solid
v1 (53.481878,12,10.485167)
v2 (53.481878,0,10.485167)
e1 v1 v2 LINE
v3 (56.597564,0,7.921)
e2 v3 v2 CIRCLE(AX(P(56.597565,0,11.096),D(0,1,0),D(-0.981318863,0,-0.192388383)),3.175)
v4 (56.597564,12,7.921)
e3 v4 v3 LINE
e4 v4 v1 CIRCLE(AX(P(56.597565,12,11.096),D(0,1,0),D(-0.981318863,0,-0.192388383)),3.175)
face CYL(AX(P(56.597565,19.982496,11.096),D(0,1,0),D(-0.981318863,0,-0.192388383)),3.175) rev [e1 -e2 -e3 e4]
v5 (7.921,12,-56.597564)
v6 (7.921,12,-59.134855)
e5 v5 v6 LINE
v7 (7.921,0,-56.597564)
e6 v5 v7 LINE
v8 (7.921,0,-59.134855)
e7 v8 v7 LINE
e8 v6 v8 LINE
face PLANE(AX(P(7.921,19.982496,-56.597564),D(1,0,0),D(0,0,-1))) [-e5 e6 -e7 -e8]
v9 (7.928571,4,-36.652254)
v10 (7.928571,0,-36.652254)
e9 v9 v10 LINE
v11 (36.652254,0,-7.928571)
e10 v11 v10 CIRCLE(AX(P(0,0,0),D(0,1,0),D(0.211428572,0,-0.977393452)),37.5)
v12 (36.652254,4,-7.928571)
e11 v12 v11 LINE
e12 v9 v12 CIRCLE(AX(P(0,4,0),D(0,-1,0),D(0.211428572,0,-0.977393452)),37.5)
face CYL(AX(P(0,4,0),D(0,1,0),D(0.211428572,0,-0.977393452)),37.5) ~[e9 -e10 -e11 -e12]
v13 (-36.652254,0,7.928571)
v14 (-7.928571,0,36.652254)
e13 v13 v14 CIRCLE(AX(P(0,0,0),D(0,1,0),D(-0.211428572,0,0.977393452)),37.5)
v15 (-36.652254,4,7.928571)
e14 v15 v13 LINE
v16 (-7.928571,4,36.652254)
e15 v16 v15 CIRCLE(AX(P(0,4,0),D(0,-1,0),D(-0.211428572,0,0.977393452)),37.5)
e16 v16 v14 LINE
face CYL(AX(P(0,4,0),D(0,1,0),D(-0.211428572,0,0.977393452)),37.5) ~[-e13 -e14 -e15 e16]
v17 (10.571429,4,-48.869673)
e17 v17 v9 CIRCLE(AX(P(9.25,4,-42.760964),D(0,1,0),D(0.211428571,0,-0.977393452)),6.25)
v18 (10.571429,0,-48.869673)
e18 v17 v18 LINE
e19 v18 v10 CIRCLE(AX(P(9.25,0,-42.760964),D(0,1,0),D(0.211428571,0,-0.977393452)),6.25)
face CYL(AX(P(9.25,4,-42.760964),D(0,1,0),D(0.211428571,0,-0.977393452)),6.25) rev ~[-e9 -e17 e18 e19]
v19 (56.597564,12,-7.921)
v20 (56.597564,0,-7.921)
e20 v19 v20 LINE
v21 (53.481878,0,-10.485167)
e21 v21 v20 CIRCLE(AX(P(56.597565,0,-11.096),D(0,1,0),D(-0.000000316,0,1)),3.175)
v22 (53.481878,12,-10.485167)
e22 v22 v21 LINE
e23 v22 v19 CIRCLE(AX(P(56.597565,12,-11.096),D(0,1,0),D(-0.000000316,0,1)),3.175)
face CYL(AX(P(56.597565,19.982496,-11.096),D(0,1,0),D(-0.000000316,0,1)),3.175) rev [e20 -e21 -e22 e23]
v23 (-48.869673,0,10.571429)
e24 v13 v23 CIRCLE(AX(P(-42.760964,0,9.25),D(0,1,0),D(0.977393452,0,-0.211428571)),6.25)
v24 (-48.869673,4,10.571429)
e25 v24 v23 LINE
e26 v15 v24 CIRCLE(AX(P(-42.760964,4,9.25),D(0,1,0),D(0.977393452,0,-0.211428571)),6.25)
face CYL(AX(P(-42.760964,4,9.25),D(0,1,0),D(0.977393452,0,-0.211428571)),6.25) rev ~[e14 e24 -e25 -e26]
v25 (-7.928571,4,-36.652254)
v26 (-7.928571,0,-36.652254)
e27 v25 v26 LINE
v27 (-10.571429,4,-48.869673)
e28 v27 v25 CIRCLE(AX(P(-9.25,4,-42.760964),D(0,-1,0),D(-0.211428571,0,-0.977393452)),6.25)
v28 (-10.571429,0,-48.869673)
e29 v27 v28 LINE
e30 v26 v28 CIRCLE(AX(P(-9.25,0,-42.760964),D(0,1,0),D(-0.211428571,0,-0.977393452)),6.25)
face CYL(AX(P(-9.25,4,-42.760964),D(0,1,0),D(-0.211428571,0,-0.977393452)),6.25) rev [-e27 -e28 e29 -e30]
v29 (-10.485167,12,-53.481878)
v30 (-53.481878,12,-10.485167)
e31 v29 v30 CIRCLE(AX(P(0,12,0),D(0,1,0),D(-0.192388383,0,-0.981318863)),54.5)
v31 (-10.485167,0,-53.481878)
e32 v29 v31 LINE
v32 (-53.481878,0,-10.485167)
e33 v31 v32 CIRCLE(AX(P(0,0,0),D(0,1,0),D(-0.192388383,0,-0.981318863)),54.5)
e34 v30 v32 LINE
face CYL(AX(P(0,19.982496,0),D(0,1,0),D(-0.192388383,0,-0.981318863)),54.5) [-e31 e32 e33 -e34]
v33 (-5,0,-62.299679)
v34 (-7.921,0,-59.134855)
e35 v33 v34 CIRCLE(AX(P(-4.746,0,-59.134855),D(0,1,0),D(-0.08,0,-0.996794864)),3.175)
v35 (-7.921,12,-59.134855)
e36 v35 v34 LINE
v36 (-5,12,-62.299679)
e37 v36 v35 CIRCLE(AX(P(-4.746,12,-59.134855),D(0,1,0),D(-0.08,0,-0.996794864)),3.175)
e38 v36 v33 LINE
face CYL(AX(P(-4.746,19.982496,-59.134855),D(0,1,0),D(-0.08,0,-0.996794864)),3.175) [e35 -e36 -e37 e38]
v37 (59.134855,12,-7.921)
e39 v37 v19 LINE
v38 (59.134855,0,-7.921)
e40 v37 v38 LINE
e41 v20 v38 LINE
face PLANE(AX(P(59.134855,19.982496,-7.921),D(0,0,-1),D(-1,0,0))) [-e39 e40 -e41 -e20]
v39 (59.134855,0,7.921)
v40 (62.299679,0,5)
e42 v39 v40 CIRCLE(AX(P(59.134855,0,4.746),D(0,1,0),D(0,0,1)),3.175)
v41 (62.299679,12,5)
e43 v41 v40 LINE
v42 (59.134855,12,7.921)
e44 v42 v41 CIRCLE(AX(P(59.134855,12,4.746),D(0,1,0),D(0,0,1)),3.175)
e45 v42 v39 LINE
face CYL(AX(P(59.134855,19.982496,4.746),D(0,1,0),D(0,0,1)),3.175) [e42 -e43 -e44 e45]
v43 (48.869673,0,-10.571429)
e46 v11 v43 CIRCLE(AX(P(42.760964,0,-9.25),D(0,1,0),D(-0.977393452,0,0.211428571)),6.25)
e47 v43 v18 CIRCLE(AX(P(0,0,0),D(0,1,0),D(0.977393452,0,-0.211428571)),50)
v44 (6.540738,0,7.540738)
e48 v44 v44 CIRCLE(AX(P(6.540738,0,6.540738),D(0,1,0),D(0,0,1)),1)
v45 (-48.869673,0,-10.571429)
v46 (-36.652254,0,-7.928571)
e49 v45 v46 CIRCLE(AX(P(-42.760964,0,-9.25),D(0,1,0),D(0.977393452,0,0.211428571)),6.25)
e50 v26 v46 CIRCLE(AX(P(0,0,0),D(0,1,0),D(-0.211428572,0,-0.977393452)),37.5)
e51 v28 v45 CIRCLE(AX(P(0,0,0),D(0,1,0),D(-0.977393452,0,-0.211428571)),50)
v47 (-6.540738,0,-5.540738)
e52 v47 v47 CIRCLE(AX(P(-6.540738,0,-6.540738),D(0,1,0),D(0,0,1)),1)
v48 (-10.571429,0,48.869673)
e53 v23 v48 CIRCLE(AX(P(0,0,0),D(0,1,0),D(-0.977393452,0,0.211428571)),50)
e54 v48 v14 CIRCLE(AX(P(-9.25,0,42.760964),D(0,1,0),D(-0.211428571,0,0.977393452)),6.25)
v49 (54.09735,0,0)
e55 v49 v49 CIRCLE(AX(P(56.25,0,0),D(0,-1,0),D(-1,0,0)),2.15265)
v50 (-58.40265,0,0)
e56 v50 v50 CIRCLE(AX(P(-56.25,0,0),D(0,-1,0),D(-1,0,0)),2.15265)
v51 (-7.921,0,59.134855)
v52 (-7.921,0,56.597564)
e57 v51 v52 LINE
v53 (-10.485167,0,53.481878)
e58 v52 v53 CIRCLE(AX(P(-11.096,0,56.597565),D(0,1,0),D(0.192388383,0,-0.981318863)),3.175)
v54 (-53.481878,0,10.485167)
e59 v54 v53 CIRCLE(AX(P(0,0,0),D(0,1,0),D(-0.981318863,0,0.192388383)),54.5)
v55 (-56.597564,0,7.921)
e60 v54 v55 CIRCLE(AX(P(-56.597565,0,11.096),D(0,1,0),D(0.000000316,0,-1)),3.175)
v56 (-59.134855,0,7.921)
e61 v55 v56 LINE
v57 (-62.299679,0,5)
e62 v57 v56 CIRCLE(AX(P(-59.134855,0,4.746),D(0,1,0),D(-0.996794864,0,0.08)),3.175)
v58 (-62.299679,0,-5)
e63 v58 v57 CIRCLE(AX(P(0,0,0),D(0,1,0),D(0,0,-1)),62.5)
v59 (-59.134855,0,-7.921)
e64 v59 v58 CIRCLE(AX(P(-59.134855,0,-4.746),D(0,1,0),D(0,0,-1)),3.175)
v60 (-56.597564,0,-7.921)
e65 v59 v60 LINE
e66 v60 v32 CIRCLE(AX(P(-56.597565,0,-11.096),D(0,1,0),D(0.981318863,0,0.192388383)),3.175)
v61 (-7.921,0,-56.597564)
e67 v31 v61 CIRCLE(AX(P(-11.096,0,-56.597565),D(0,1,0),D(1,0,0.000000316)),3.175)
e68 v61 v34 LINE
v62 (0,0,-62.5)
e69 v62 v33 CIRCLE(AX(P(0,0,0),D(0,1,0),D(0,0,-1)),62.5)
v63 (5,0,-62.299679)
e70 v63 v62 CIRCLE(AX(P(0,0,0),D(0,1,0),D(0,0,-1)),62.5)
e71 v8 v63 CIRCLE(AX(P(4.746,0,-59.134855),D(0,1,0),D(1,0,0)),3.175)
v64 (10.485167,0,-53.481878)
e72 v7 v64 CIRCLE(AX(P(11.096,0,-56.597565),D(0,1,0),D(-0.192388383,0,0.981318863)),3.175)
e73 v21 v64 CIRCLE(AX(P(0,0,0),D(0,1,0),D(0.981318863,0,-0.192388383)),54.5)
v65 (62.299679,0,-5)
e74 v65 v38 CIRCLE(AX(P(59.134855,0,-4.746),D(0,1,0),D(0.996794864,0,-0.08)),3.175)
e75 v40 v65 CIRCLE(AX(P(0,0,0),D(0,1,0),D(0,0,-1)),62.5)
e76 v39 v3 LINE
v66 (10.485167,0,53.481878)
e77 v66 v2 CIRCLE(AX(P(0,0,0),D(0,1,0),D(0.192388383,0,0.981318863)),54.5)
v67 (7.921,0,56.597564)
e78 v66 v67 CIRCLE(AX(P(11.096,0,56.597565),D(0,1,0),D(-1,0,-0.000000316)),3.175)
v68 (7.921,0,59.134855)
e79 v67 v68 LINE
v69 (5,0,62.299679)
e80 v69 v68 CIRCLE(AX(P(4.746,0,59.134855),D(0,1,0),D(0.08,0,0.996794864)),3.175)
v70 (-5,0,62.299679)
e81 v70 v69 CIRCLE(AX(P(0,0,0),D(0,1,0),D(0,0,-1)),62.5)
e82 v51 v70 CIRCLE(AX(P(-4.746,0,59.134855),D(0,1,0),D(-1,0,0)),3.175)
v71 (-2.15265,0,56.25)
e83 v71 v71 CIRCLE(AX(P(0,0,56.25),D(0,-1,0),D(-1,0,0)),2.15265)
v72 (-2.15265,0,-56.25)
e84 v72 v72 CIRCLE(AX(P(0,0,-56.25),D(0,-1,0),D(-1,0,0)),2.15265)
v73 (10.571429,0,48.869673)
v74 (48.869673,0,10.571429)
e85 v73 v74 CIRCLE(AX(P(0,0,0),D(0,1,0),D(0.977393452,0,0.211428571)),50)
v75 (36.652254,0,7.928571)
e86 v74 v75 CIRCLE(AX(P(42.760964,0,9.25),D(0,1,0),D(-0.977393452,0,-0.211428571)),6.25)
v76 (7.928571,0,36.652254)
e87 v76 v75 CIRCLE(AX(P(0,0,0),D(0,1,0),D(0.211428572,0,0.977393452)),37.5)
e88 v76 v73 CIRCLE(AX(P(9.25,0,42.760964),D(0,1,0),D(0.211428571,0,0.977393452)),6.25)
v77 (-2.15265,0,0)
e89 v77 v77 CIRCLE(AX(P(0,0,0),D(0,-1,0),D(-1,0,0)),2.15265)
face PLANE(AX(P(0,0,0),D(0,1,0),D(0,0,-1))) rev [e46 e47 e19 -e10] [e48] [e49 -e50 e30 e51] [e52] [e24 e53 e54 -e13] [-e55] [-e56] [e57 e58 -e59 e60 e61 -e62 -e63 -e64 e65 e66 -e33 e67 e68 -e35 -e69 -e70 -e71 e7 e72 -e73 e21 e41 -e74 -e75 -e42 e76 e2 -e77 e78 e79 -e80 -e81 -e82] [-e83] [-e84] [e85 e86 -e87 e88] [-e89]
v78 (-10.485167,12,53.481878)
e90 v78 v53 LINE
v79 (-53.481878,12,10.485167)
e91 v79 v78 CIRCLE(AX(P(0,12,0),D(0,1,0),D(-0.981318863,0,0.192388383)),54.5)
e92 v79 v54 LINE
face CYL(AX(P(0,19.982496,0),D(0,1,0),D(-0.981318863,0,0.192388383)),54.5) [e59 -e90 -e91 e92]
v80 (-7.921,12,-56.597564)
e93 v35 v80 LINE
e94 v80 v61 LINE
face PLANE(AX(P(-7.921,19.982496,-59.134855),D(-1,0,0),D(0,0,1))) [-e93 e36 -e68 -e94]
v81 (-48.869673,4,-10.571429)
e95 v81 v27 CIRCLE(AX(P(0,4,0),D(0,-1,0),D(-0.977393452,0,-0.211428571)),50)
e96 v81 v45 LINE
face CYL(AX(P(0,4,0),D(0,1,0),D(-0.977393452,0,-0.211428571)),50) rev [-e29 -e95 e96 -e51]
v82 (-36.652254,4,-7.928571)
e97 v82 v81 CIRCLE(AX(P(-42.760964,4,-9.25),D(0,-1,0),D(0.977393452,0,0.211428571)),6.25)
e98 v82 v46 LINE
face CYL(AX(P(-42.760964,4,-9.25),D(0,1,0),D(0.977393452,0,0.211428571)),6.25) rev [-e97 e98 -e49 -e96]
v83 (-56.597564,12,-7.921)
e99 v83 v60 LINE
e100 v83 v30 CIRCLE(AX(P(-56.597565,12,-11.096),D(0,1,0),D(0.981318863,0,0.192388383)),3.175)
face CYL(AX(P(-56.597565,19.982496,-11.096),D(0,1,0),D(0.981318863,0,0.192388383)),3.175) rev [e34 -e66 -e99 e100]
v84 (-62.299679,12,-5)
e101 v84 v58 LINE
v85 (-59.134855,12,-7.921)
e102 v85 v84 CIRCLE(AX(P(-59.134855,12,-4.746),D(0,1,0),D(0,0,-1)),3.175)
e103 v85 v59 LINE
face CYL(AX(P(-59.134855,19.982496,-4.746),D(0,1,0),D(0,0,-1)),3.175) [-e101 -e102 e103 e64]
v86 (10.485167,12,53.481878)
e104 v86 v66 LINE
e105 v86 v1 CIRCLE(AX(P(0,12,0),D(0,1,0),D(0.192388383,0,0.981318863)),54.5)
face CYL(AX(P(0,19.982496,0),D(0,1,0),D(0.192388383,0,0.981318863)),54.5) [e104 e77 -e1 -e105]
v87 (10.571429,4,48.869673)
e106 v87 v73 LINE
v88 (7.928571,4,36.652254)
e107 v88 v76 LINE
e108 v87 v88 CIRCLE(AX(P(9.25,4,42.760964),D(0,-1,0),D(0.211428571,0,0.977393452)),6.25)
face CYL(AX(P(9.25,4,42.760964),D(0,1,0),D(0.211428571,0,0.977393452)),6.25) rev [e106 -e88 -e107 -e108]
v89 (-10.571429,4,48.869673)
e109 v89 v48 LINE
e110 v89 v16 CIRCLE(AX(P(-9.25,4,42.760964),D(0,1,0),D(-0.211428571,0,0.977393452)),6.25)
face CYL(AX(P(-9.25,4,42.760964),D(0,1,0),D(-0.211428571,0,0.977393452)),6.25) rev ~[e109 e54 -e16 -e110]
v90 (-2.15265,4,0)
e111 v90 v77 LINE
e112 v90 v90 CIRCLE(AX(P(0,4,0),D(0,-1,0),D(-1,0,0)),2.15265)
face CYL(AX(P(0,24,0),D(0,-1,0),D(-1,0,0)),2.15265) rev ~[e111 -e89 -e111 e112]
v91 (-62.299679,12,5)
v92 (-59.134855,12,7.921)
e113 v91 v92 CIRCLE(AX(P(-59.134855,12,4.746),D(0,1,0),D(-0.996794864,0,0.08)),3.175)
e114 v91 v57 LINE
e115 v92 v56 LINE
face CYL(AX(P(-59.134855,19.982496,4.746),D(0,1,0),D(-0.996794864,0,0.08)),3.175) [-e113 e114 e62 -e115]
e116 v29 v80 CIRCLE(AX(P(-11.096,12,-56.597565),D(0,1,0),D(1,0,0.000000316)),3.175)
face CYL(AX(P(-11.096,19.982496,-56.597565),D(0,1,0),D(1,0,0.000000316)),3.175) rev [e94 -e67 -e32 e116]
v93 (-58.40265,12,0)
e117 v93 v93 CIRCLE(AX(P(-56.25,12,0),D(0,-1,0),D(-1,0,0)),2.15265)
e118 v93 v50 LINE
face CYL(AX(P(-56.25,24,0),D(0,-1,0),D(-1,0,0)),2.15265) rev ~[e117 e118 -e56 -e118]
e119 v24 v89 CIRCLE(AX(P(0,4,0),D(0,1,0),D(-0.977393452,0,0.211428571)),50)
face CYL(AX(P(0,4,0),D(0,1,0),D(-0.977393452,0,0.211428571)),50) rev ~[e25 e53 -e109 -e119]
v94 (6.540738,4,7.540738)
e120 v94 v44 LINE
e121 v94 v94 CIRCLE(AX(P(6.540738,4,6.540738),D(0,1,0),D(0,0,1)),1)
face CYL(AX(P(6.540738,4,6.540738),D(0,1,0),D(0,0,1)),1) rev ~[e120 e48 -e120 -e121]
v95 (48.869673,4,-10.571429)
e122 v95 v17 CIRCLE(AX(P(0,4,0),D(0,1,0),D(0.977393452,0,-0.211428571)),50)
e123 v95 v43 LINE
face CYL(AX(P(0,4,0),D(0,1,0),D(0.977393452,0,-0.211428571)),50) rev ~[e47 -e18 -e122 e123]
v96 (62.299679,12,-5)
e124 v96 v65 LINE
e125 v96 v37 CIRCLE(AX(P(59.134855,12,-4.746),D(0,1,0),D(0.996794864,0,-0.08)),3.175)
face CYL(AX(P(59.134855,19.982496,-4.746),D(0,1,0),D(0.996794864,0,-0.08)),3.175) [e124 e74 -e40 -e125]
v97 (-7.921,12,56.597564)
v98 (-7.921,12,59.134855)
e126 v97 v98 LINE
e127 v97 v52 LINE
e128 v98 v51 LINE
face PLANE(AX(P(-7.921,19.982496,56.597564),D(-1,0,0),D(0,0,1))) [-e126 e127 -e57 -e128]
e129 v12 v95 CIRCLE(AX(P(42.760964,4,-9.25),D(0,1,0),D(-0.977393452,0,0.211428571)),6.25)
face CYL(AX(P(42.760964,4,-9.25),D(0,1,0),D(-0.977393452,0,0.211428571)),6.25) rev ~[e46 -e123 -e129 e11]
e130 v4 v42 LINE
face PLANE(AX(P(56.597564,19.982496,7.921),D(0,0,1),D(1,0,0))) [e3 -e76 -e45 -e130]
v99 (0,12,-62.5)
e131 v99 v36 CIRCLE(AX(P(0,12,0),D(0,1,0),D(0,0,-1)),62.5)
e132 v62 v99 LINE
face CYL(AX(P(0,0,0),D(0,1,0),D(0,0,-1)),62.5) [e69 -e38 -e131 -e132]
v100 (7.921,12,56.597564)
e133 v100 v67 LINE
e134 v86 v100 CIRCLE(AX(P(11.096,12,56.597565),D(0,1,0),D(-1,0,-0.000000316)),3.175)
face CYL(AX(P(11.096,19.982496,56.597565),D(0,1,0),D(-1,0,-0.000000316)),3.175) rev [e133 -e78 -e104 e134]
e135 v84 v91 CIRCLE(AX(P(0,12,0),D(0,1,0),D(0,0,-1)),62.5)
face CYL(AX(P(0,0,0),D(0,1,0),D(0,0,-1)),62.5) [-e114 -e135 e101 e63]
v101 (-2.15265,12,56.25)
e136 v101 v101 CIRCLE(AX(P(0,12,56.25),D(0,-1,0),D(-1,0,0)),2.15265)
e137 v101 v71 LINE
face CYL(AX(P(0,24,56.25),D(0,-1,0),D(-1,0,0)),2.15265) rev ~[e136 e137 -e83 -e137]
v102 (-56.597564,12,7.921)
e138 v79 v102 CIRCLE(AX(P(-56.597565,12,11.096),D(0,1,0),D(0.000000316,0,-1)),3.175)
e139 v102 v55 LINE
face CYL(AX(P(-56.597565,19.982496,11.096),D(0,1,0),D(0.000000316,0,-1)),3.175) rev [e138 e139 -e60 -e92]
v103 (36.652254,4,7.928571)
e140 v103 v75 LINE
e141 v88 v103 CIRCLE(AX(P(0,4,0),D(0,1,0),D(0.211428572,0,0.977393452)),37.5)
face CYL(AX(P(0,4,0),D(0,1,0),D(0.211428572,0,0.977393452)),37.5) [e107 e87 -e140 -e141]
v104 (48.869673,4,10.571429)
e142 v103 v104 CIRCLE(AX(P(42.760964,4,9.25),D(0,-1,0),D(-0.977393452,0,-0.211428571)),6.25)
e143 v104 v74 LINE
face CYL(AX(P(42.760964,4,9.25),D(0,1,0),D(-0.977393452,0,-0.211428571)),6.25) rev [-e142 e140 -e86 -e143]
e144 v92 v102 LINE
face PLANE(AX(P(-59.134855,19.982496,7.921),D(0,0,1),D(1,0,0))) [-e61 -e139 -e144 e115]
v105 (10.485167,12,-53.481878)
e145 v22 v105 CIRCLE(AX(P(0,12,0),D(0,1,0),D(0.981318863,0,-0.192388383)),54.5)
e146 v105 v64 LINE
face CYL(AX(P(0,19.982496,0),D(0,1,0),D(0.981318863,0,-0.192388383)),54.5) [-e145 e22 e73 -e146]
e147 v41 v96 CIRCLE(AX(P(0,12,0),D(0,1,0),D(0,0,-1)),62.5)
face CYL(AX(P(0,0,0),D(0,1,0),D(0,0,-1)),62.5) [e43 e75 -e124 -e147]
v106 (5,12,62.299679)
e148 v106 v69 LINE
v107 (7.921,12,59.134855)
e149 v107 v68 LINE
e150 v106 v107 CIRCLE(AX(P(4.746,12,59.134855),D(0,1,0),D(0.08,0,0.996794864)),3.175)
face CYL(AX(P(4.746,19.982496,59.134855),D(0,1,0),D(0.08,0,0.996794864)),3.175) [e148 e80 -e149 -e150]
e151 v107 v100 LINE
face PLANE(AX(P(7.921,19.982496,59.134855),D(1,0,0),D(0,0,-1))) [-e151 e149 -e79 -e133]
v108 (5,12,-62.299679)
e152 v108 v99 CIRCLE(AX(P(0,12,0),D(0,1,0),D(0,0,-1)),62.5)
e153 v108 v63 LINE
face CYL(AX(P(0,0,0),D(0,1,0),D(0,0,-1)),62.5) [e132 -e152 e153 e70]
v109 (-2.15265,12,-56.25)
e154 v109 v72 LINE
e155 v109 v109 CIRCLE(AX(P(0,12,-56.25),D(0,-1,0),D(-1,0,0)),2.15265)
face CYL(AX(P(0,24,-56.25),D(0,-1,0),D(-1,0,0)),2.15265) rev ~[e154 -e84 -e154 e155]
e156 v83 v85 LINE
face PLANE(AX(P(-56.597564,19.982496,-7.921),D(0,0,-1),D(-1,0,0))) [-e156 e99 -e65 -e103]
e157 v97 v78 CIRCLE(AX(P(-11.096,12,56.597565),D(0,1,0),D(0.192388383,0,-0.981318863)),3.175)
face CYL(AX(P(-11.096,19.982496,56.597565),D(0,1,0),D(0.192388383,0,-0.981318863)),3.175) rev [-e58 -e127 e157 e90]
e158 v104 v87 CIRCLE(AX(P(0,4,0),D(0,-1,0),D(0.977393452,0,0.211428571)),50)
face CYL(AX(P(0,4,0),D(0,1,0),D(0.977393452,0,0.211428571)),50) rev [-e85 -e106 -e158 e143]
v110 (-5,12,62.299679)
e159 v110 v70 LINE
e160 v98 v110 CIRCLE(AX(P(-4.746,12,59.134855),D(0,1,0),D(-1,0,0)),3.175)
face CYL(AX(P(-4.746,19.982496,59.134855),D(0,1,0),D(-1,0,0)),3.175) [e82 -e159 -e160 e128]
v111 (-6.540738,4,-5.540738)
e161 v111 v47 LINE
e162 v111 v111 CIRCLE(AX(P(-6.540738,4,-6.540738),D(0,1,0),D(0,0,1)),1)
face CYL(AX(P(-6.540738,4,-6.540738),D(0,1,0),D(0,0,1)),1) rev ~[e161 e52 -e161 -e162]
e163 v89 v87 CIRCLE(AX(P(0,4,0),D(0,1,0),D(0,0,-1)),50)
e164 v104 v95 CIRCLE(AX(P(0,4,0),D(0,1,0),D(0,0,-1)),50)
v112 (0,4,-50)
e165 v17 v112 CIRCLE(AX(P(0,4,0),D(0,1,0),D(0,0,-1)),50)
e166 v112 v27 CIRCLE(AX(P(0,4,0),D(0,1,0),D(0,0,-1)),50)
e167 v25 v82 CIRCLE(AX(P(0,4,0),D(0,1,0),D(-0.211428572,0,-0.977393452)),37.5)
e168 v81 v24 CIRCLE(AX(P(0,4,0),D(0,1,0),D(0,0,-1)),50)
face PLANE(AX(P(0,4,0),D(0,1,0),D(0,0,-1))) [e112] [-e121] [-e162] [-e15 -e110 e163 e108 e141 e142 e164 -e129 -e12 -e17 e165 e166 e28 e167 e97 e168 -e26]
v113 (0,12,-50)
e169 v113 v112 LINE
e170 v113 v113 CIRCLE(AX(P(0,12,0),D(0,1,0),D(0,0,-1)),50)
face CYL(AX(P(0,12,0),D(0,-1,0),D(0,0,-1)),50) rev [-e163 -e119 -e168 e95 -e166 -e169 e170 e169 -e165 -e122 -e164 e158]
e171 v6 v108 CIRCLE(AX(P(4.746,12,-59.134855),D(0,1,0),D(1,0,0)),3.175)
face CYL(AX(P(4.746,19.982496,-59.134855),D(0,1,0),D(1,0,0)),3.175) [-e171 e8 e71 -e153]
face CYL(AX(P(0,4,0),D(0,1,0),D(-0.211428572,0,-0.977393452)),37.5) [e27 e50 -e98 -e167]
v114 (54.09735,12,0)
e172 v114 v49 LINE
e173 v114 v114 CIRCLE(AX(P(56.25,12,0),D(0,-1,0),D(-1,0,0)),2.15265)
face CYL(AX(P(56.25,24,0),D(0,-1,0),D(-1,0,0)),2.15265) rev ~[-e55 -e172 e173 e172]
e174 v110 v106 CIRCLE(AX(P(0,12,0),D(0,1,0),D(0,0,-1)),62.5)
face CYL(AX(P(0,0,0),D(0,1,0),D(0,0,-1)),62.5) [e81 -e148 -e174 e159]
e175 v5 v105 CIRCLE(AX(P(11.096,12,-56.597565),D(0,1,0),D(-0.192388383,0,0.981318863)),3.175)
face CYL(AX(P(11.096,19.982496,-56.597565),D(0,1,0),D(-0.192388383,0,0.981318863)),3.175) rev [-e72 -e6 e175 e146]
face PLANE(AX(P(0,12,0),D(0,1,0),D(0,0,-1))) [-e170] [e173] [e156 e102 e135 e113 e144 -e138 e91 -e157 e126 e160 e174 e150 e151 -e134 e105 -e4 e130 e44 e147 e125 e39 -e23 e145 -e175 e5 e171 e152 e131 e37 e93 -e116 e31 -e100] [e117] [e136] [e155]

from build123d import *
from build123d.topology import SkipClean

# Parameters (mm, degrees)
CUT_EXTRUDE1_REACH               = 90.75
SKETCH2_R                        = 2
SKETCH2_R_2                      = 1
CUT_EXTRUDE2_REACH               = 90.75
F_18_0_1695_DIAMETER_HOLE1_D     = 4.3053
F_18_0_1695_DIAMETER_HOLE1_DEPTH = 12
CUT_EXTRUDE3_DEPTH               = 28


with BuildPart() as part:
    # Sketch1 → Revolve1 (revolve)
    with BuildSketch(Plane.XY, mode=Mode.PRIVATE) as revolve1_sk:
        Polygon((0, 0), (62.5, 0), (62.5, 12), (50, 12), (50, 4), (0, 4), align=None)
    revolve(revolve1_sk.sketch.rotate(Axis((0, 0, 0), (0, 1, 0)), 90), axis=Axis((0, 0, 0), (0, 1, 0)))

    # Sketch2 → Cut-Extrude1 (cut, up to next)
    with BuildSketch(Plane(origin=(0, 4, 0), x_dir=(1, 0, 0), z_dir=(0, 1, 0)), mode=Mode.PRIVATE) as cut_extrude1_sk1:
        with Locations(Location((0, 0, 0), (0, 0, 270))):
            Circle(SKETCH2_R)
    cut_extrude1_tool1 = extrude(cut_extrude1_sk1.sketch, amount=-CUT_EXTRUDE1_REACH, mode=Mode.PRIVATE) & part.part
    # Sketch2 → Cut-Extrude1 (cut, up to next)
    with BuildSketch(Plane(origin=(0, 4, 0), x_dir=(1, 0, 0), z_dir=(0, 1, 0)), mode=Mode.PRIVATE) as cut_extrude1_sk2:
        with Locations(Location((6.540737726, -6.540737726, 0), (0, 0, 270))):
            Circle(SKETCH2_R_2)
    cut_extrude1_tool2 = extrude(cut_extrude1_sk2.sketch, amount=-CUT_EXTRUDE1_REACH, mode=Mode.PRIVATE) & part.part
    # Sketch2 → Cut-Extrude1 (cut, up to next)
    with BuildSketch(Plane(origin=(0, 4, 0), x_dir=(1, 0, 0), z_dir=(0, 1, 0)), mode=Mode.PRIVATE) as cut_extrude1_sk3:
        with Locations(Location((-6.540737726, 6.540737726, 0), (0, 0, 270))):
            Circle(SKETCH2_R_2)
    cut_extrude1_tool3 = extrude(cut_extrude1_sk3.sketch, amount=-CUT_EXTRUDE1_REACH, mode=Mode.PRIVATE) & part.part
    add(cut_extrude1_tool1.solids().sort_by_distance((0, 4, 0))[0], mode=Mode.SUBTRACT)
    add(cut_extrude1_tool2.solids().sort_by_distance((6.540738, 4, 6.540738))[0], mode=Mode.SUBTRACT)
    add(cut_extrude1_tool3.solids().sort_by_distance((-6.540738, 4, -6.540738))[0], mode=Mode.SUBTRACT)

    # Sketch3 → Cut-Extrude2 (cut, up to next)
    with BuildSketch(Plane(origin=(0, 4, 0), x_dir=(1, 0, 0), z_dir=(0, 1, 0)), mode=Mode.PRIVATE) as cut_extrude2_sk1:
        with BuildLine():
            ThreePointArc((48.869672579, 10.571428571), (35.355339059, 35.355339059), (10.571428571, 48.869672579))
            ThreePointArc((10.571428571, 48.869672579), (3.141290928, 44.082392078), (7.928571429, 36.652254434))
            ThreePointArc((7.928571429, 36.652254434), (26.516504294, 26.516504294), (36.652254434, 7.928571429))
            ThreePointArc((36.652254434, 7.928571429), (44.082392078, 3.141290928), (48.869672579, 10.571428571))
        make_face()
    cut_extrude2_tool1 = extrude(cut_extrude2_sk1.sketch, amount=-CUT_EXTRUDE2_REACH, mode=Mode.PRIVATE) & part.part
    # Sketch3 → Cut-Extrude2 (cut, up to next)
    with BuildSketch(Plane(origin=(0, 4, 0), x_dir=(1, 0, 0), z_dir=(0, 1, 0)), mode=Mode.PRIVATE) as cut_extrude2_sk2:
        with BuildLine():
            ThreePointArc((-48.869672579, 10.571428571), (-35.355339059, 35.355339059), (-10.571428571, 48.869672579))
            ThreePointArc((-10.571428571, 48.869672579), (-3.141290928, 44.082392078), (-7.928571429, 36.652254434))
            ThreePointArc((-7.928571429, 36.652254434), (-26.516504294, 26.516504294), (-36.652254434, 7.928571429))
            ThreePointArc((-36.652254434, 7.928571429), (-44.082392078, 3.141290928), (-48.869672579, 10.571428571))
        make_face()
    cut_extrude2_tool2 = extrude(cut_extrude2_sk2.sketch, amount=-CUT_EXTRUDE2_REACH, mode=Mode.PRIVATE) & part.part
    # Sketch3 → Cut-Extrude2 (cut, up to next)
    with BuildSketch(Plane(origin=(0, 4, 0), x_dir=(1, 0, 0), z_dir=(0, 1, 0)), mode=Mode.PRIVATE) as cut_extrude2_sk3:
        with BuildLine():
            ThreePointArc((48.869672579, -10.571428571), (35.355339059, -35.355339059), (10.571428571, -48.869672579))
            ThreePointArc((10.571428571, -48.869672579), (3.141290928, -44.082392078), (7.928571429, -36.652254434))
            ThreePointArc((7.928571429, -36.652254434), (26.516504294, -26.516504294), (36.652254434, -7.928571429))
            ThreePointArc((36.652254434, -7.928571429), (44.082392078, -3.141290928), (48.869672579, -10.571428571))
        make_face()
    cut_extrude2_tool3 = extrude(cut_extrude2_sk3.sketch, amount=-CUT_EXTRUDE2_REACH, mode=Mode.PRIVATE) & part.part
    # Sketch3 → Cut-Extrude2 (cut, up to next)
    with BuildSketch(Plane(origin=(0, 4, 0), x_dir=(1, 0, 0), z_dir=(0, 1, 0)), mode=Mode.PRIVATE) as cut_extrude2_sk4:
        with BuildLine():
            ThreePointArc((-48.869672579, -10.571428571), (-35.355339059, -35.355339059), (-10.571428571, -48.869672579))
            ThreePointArc((-10.571428571, -48.869672579), (-3.141290928, -44.082392078), (-7.928571429, -36.652254434))
            ThreePointArc((-7.928571429, -36.652254434), (-26.516504294, -26.516504294), (-36.652254434, -7.928571429))
            ThreePointArc((-36.652254434, -7.928571429), (-44.082392078, -3.141290928), (-48.869672579, -10.571428571))
        make_face()
    cut_extrude2_tool4 = extrude(cut_extrude2_sk4.sketch, amount=-CUT_EXTRUDE2_REACH, mode=Mode.PRIVATE) & part.part
    add(cut_extrude2_tool1.solids().sort_by_distance((28.738526, 4, -28.738526))[0], mode=Mode.SUBTRACT)
    add(cut_extrude2_tool2.solids().sort_by_distance((-28.738526, 4, -28.738526))[0], mode=Mode.SUBTRACT)
    add(cut_extrude2_tool3.solids().sort_by_distance((28.738526, 4, 28.738526))[0], mode=Mode.SUBTRACT)
    add(cut_extrude2_tool4.solids().sort_by_distance((-28.738526, 4, 28.738526))[0], mode=Mode.SUBTRACT)

    # #18 (0.1695) Diameter Hole1
    with Locations(Plane(origin=(0, 12, 0), x_dir=(1, 0, 0), z_dir=(0, 1, 0))):
        with Locations((0, 56.25), (56.25, 0), (0, -56.25), (-56.25, 0), (0, 0)):
            Hole(F_18_0_1695_DIAMETER_HOLE1_D / 2, depth=F_18_0_1695_DIAMETER_HOLE1_DEPTH)

    # Sketch6 → Cut-Extrude3 (cut)
    with SkipClean():  # the faces are left unmerged after this step: merging them gives an invalid solid
        with BuildSketch(Plane(origin=(0, 19.982495649, 0), x_dir=(1, 0, 0), z_dir=(0, 1, 0))):
            with BuildLine():
                Line((-56.597564395, 7.921), (-59.13485528, 7.921))
                ThreePointArc((-59.13485528, 7.921), (-61.28824505, 7.07913898), (-62.299678972, 5))
                ThreePointArc((-62.299678972, 5), (-44.194173824, 44.194173824), (-5, 62.299678972))
                ThreePointArc((-5, 62.299678972), (-7.07913898, 61.28824505), (-7.921, 59.13485528))
                Line((-7.921, 59.13485528), (-7.921, 56.597564395))
                ThreePointArc((-7.921, 56.597564395), (-8.64446813, 54.579988512), (-10.485166883, 53.48187801))
                ThreePointArc((-10.485166883, 53.48187801), (-38.537319575, 38.537319575), (-53.48187801, 10.485166883))
                ThreePointArc((-53.48187801, 10.485166883), (-54.579988512, 8.64446813), (-56.597564395, 7.921))
            make_face()
            with BuildLine():
                Line((7.921, 56.597564395), (7.921, 59.13485528))
                ThreePointArc((7.921, 59.13485528), (7.07913898, 61.28824505), (5, 62.299678972))
                ThreePointArc((5, 62.299678972), (44.194173824, 44.194173824), (62.299678972, 5))
                ThreePointArc((62.299678972, 5), (61.28824505, 7.07913898), (59.13485528, 7.921))
                Line((59.13485528, 7.921), (56.597564395, 7.921))
                ThreePointArc((56.597564395, 7.921), (54.579988512, 8.64446813), (53.48187801, 10.485166883))
                ThreePointArc((53.48187801, 10.485166883), (38.537319575, 38.537319575), (10.485166883, 53.48187801))
                ThreePointArc((10.485166883, 53.48187801), (8.64446813, 54.579988512), (7.921, 56.597564395))
            make_face()
            with BuildLine():
                Line((56.597564395, -7.921), (59.13485528, -7.921))
                ThreePointArc((59.13485528, -7.921), (61.28824505, -7.07913898), (62.299678972, -5))
                ThreePointArc((62.299678972, -5), (44.194173824, -44.194173824), (5, -62.299678972))
                ThreePointArc((5, -62.299678972), (7.07913898, -61.28824505), (7.921, -59.13485528))
                Line((7.921, -59.13485528), (7.921, -56.597564395))
                ThreePointArc((7.921, -56.597564395), (8.64446813, -54.579988512), (10.485166883, -53.48187801))
                ThreePointArc((10.485166883, -53.48187801), (38.537319575, -38.537319575), (53.48187801, -10.485166883))
                ThreePointArc((53.48187801, -10.485166883), (54.579988512, -8.64446813), (56.597564395, -7.921))
            make_face()
            with BuildLine():
                Line((-7.921, -56.597564395), (-7.921, -59.13485528))
                ThreePointArc((-7.921, -59.13485528), (-7.07913898, -61.28824505), (-5, -62.299678972))
                ThreePointArc((-5, -62.299678972), (-44.194173824, -44.194173824), (-62.299678972, -5))
                ThreePointArc((-62.299678972, -5), (-61.28824505, -7.07913898), (-59.13485528, -7.921))
                Line((-59.13485528, -7.921), (-56.597564395, -7.921))
                ThreePointArc((-56.597564395, -7.921), (-54.579988512, -8.64446813), (-53.48187801, -10.485166883))
                ThreePointArc((-53.48187801, -10.485166883), (-38.537319575, -38.537319575), (-10.485166883, -53.48187801))
                ThreePointArc((-10.485166883, -53.48187801), (-8.64446813, -54.579988512), (-7.921, -56.597564395))
            make_face()
        extrude(amount=-CUT_EXTRUDE3_DEPTH, mode=Mode.SUBTRACT)


solid = part.part
